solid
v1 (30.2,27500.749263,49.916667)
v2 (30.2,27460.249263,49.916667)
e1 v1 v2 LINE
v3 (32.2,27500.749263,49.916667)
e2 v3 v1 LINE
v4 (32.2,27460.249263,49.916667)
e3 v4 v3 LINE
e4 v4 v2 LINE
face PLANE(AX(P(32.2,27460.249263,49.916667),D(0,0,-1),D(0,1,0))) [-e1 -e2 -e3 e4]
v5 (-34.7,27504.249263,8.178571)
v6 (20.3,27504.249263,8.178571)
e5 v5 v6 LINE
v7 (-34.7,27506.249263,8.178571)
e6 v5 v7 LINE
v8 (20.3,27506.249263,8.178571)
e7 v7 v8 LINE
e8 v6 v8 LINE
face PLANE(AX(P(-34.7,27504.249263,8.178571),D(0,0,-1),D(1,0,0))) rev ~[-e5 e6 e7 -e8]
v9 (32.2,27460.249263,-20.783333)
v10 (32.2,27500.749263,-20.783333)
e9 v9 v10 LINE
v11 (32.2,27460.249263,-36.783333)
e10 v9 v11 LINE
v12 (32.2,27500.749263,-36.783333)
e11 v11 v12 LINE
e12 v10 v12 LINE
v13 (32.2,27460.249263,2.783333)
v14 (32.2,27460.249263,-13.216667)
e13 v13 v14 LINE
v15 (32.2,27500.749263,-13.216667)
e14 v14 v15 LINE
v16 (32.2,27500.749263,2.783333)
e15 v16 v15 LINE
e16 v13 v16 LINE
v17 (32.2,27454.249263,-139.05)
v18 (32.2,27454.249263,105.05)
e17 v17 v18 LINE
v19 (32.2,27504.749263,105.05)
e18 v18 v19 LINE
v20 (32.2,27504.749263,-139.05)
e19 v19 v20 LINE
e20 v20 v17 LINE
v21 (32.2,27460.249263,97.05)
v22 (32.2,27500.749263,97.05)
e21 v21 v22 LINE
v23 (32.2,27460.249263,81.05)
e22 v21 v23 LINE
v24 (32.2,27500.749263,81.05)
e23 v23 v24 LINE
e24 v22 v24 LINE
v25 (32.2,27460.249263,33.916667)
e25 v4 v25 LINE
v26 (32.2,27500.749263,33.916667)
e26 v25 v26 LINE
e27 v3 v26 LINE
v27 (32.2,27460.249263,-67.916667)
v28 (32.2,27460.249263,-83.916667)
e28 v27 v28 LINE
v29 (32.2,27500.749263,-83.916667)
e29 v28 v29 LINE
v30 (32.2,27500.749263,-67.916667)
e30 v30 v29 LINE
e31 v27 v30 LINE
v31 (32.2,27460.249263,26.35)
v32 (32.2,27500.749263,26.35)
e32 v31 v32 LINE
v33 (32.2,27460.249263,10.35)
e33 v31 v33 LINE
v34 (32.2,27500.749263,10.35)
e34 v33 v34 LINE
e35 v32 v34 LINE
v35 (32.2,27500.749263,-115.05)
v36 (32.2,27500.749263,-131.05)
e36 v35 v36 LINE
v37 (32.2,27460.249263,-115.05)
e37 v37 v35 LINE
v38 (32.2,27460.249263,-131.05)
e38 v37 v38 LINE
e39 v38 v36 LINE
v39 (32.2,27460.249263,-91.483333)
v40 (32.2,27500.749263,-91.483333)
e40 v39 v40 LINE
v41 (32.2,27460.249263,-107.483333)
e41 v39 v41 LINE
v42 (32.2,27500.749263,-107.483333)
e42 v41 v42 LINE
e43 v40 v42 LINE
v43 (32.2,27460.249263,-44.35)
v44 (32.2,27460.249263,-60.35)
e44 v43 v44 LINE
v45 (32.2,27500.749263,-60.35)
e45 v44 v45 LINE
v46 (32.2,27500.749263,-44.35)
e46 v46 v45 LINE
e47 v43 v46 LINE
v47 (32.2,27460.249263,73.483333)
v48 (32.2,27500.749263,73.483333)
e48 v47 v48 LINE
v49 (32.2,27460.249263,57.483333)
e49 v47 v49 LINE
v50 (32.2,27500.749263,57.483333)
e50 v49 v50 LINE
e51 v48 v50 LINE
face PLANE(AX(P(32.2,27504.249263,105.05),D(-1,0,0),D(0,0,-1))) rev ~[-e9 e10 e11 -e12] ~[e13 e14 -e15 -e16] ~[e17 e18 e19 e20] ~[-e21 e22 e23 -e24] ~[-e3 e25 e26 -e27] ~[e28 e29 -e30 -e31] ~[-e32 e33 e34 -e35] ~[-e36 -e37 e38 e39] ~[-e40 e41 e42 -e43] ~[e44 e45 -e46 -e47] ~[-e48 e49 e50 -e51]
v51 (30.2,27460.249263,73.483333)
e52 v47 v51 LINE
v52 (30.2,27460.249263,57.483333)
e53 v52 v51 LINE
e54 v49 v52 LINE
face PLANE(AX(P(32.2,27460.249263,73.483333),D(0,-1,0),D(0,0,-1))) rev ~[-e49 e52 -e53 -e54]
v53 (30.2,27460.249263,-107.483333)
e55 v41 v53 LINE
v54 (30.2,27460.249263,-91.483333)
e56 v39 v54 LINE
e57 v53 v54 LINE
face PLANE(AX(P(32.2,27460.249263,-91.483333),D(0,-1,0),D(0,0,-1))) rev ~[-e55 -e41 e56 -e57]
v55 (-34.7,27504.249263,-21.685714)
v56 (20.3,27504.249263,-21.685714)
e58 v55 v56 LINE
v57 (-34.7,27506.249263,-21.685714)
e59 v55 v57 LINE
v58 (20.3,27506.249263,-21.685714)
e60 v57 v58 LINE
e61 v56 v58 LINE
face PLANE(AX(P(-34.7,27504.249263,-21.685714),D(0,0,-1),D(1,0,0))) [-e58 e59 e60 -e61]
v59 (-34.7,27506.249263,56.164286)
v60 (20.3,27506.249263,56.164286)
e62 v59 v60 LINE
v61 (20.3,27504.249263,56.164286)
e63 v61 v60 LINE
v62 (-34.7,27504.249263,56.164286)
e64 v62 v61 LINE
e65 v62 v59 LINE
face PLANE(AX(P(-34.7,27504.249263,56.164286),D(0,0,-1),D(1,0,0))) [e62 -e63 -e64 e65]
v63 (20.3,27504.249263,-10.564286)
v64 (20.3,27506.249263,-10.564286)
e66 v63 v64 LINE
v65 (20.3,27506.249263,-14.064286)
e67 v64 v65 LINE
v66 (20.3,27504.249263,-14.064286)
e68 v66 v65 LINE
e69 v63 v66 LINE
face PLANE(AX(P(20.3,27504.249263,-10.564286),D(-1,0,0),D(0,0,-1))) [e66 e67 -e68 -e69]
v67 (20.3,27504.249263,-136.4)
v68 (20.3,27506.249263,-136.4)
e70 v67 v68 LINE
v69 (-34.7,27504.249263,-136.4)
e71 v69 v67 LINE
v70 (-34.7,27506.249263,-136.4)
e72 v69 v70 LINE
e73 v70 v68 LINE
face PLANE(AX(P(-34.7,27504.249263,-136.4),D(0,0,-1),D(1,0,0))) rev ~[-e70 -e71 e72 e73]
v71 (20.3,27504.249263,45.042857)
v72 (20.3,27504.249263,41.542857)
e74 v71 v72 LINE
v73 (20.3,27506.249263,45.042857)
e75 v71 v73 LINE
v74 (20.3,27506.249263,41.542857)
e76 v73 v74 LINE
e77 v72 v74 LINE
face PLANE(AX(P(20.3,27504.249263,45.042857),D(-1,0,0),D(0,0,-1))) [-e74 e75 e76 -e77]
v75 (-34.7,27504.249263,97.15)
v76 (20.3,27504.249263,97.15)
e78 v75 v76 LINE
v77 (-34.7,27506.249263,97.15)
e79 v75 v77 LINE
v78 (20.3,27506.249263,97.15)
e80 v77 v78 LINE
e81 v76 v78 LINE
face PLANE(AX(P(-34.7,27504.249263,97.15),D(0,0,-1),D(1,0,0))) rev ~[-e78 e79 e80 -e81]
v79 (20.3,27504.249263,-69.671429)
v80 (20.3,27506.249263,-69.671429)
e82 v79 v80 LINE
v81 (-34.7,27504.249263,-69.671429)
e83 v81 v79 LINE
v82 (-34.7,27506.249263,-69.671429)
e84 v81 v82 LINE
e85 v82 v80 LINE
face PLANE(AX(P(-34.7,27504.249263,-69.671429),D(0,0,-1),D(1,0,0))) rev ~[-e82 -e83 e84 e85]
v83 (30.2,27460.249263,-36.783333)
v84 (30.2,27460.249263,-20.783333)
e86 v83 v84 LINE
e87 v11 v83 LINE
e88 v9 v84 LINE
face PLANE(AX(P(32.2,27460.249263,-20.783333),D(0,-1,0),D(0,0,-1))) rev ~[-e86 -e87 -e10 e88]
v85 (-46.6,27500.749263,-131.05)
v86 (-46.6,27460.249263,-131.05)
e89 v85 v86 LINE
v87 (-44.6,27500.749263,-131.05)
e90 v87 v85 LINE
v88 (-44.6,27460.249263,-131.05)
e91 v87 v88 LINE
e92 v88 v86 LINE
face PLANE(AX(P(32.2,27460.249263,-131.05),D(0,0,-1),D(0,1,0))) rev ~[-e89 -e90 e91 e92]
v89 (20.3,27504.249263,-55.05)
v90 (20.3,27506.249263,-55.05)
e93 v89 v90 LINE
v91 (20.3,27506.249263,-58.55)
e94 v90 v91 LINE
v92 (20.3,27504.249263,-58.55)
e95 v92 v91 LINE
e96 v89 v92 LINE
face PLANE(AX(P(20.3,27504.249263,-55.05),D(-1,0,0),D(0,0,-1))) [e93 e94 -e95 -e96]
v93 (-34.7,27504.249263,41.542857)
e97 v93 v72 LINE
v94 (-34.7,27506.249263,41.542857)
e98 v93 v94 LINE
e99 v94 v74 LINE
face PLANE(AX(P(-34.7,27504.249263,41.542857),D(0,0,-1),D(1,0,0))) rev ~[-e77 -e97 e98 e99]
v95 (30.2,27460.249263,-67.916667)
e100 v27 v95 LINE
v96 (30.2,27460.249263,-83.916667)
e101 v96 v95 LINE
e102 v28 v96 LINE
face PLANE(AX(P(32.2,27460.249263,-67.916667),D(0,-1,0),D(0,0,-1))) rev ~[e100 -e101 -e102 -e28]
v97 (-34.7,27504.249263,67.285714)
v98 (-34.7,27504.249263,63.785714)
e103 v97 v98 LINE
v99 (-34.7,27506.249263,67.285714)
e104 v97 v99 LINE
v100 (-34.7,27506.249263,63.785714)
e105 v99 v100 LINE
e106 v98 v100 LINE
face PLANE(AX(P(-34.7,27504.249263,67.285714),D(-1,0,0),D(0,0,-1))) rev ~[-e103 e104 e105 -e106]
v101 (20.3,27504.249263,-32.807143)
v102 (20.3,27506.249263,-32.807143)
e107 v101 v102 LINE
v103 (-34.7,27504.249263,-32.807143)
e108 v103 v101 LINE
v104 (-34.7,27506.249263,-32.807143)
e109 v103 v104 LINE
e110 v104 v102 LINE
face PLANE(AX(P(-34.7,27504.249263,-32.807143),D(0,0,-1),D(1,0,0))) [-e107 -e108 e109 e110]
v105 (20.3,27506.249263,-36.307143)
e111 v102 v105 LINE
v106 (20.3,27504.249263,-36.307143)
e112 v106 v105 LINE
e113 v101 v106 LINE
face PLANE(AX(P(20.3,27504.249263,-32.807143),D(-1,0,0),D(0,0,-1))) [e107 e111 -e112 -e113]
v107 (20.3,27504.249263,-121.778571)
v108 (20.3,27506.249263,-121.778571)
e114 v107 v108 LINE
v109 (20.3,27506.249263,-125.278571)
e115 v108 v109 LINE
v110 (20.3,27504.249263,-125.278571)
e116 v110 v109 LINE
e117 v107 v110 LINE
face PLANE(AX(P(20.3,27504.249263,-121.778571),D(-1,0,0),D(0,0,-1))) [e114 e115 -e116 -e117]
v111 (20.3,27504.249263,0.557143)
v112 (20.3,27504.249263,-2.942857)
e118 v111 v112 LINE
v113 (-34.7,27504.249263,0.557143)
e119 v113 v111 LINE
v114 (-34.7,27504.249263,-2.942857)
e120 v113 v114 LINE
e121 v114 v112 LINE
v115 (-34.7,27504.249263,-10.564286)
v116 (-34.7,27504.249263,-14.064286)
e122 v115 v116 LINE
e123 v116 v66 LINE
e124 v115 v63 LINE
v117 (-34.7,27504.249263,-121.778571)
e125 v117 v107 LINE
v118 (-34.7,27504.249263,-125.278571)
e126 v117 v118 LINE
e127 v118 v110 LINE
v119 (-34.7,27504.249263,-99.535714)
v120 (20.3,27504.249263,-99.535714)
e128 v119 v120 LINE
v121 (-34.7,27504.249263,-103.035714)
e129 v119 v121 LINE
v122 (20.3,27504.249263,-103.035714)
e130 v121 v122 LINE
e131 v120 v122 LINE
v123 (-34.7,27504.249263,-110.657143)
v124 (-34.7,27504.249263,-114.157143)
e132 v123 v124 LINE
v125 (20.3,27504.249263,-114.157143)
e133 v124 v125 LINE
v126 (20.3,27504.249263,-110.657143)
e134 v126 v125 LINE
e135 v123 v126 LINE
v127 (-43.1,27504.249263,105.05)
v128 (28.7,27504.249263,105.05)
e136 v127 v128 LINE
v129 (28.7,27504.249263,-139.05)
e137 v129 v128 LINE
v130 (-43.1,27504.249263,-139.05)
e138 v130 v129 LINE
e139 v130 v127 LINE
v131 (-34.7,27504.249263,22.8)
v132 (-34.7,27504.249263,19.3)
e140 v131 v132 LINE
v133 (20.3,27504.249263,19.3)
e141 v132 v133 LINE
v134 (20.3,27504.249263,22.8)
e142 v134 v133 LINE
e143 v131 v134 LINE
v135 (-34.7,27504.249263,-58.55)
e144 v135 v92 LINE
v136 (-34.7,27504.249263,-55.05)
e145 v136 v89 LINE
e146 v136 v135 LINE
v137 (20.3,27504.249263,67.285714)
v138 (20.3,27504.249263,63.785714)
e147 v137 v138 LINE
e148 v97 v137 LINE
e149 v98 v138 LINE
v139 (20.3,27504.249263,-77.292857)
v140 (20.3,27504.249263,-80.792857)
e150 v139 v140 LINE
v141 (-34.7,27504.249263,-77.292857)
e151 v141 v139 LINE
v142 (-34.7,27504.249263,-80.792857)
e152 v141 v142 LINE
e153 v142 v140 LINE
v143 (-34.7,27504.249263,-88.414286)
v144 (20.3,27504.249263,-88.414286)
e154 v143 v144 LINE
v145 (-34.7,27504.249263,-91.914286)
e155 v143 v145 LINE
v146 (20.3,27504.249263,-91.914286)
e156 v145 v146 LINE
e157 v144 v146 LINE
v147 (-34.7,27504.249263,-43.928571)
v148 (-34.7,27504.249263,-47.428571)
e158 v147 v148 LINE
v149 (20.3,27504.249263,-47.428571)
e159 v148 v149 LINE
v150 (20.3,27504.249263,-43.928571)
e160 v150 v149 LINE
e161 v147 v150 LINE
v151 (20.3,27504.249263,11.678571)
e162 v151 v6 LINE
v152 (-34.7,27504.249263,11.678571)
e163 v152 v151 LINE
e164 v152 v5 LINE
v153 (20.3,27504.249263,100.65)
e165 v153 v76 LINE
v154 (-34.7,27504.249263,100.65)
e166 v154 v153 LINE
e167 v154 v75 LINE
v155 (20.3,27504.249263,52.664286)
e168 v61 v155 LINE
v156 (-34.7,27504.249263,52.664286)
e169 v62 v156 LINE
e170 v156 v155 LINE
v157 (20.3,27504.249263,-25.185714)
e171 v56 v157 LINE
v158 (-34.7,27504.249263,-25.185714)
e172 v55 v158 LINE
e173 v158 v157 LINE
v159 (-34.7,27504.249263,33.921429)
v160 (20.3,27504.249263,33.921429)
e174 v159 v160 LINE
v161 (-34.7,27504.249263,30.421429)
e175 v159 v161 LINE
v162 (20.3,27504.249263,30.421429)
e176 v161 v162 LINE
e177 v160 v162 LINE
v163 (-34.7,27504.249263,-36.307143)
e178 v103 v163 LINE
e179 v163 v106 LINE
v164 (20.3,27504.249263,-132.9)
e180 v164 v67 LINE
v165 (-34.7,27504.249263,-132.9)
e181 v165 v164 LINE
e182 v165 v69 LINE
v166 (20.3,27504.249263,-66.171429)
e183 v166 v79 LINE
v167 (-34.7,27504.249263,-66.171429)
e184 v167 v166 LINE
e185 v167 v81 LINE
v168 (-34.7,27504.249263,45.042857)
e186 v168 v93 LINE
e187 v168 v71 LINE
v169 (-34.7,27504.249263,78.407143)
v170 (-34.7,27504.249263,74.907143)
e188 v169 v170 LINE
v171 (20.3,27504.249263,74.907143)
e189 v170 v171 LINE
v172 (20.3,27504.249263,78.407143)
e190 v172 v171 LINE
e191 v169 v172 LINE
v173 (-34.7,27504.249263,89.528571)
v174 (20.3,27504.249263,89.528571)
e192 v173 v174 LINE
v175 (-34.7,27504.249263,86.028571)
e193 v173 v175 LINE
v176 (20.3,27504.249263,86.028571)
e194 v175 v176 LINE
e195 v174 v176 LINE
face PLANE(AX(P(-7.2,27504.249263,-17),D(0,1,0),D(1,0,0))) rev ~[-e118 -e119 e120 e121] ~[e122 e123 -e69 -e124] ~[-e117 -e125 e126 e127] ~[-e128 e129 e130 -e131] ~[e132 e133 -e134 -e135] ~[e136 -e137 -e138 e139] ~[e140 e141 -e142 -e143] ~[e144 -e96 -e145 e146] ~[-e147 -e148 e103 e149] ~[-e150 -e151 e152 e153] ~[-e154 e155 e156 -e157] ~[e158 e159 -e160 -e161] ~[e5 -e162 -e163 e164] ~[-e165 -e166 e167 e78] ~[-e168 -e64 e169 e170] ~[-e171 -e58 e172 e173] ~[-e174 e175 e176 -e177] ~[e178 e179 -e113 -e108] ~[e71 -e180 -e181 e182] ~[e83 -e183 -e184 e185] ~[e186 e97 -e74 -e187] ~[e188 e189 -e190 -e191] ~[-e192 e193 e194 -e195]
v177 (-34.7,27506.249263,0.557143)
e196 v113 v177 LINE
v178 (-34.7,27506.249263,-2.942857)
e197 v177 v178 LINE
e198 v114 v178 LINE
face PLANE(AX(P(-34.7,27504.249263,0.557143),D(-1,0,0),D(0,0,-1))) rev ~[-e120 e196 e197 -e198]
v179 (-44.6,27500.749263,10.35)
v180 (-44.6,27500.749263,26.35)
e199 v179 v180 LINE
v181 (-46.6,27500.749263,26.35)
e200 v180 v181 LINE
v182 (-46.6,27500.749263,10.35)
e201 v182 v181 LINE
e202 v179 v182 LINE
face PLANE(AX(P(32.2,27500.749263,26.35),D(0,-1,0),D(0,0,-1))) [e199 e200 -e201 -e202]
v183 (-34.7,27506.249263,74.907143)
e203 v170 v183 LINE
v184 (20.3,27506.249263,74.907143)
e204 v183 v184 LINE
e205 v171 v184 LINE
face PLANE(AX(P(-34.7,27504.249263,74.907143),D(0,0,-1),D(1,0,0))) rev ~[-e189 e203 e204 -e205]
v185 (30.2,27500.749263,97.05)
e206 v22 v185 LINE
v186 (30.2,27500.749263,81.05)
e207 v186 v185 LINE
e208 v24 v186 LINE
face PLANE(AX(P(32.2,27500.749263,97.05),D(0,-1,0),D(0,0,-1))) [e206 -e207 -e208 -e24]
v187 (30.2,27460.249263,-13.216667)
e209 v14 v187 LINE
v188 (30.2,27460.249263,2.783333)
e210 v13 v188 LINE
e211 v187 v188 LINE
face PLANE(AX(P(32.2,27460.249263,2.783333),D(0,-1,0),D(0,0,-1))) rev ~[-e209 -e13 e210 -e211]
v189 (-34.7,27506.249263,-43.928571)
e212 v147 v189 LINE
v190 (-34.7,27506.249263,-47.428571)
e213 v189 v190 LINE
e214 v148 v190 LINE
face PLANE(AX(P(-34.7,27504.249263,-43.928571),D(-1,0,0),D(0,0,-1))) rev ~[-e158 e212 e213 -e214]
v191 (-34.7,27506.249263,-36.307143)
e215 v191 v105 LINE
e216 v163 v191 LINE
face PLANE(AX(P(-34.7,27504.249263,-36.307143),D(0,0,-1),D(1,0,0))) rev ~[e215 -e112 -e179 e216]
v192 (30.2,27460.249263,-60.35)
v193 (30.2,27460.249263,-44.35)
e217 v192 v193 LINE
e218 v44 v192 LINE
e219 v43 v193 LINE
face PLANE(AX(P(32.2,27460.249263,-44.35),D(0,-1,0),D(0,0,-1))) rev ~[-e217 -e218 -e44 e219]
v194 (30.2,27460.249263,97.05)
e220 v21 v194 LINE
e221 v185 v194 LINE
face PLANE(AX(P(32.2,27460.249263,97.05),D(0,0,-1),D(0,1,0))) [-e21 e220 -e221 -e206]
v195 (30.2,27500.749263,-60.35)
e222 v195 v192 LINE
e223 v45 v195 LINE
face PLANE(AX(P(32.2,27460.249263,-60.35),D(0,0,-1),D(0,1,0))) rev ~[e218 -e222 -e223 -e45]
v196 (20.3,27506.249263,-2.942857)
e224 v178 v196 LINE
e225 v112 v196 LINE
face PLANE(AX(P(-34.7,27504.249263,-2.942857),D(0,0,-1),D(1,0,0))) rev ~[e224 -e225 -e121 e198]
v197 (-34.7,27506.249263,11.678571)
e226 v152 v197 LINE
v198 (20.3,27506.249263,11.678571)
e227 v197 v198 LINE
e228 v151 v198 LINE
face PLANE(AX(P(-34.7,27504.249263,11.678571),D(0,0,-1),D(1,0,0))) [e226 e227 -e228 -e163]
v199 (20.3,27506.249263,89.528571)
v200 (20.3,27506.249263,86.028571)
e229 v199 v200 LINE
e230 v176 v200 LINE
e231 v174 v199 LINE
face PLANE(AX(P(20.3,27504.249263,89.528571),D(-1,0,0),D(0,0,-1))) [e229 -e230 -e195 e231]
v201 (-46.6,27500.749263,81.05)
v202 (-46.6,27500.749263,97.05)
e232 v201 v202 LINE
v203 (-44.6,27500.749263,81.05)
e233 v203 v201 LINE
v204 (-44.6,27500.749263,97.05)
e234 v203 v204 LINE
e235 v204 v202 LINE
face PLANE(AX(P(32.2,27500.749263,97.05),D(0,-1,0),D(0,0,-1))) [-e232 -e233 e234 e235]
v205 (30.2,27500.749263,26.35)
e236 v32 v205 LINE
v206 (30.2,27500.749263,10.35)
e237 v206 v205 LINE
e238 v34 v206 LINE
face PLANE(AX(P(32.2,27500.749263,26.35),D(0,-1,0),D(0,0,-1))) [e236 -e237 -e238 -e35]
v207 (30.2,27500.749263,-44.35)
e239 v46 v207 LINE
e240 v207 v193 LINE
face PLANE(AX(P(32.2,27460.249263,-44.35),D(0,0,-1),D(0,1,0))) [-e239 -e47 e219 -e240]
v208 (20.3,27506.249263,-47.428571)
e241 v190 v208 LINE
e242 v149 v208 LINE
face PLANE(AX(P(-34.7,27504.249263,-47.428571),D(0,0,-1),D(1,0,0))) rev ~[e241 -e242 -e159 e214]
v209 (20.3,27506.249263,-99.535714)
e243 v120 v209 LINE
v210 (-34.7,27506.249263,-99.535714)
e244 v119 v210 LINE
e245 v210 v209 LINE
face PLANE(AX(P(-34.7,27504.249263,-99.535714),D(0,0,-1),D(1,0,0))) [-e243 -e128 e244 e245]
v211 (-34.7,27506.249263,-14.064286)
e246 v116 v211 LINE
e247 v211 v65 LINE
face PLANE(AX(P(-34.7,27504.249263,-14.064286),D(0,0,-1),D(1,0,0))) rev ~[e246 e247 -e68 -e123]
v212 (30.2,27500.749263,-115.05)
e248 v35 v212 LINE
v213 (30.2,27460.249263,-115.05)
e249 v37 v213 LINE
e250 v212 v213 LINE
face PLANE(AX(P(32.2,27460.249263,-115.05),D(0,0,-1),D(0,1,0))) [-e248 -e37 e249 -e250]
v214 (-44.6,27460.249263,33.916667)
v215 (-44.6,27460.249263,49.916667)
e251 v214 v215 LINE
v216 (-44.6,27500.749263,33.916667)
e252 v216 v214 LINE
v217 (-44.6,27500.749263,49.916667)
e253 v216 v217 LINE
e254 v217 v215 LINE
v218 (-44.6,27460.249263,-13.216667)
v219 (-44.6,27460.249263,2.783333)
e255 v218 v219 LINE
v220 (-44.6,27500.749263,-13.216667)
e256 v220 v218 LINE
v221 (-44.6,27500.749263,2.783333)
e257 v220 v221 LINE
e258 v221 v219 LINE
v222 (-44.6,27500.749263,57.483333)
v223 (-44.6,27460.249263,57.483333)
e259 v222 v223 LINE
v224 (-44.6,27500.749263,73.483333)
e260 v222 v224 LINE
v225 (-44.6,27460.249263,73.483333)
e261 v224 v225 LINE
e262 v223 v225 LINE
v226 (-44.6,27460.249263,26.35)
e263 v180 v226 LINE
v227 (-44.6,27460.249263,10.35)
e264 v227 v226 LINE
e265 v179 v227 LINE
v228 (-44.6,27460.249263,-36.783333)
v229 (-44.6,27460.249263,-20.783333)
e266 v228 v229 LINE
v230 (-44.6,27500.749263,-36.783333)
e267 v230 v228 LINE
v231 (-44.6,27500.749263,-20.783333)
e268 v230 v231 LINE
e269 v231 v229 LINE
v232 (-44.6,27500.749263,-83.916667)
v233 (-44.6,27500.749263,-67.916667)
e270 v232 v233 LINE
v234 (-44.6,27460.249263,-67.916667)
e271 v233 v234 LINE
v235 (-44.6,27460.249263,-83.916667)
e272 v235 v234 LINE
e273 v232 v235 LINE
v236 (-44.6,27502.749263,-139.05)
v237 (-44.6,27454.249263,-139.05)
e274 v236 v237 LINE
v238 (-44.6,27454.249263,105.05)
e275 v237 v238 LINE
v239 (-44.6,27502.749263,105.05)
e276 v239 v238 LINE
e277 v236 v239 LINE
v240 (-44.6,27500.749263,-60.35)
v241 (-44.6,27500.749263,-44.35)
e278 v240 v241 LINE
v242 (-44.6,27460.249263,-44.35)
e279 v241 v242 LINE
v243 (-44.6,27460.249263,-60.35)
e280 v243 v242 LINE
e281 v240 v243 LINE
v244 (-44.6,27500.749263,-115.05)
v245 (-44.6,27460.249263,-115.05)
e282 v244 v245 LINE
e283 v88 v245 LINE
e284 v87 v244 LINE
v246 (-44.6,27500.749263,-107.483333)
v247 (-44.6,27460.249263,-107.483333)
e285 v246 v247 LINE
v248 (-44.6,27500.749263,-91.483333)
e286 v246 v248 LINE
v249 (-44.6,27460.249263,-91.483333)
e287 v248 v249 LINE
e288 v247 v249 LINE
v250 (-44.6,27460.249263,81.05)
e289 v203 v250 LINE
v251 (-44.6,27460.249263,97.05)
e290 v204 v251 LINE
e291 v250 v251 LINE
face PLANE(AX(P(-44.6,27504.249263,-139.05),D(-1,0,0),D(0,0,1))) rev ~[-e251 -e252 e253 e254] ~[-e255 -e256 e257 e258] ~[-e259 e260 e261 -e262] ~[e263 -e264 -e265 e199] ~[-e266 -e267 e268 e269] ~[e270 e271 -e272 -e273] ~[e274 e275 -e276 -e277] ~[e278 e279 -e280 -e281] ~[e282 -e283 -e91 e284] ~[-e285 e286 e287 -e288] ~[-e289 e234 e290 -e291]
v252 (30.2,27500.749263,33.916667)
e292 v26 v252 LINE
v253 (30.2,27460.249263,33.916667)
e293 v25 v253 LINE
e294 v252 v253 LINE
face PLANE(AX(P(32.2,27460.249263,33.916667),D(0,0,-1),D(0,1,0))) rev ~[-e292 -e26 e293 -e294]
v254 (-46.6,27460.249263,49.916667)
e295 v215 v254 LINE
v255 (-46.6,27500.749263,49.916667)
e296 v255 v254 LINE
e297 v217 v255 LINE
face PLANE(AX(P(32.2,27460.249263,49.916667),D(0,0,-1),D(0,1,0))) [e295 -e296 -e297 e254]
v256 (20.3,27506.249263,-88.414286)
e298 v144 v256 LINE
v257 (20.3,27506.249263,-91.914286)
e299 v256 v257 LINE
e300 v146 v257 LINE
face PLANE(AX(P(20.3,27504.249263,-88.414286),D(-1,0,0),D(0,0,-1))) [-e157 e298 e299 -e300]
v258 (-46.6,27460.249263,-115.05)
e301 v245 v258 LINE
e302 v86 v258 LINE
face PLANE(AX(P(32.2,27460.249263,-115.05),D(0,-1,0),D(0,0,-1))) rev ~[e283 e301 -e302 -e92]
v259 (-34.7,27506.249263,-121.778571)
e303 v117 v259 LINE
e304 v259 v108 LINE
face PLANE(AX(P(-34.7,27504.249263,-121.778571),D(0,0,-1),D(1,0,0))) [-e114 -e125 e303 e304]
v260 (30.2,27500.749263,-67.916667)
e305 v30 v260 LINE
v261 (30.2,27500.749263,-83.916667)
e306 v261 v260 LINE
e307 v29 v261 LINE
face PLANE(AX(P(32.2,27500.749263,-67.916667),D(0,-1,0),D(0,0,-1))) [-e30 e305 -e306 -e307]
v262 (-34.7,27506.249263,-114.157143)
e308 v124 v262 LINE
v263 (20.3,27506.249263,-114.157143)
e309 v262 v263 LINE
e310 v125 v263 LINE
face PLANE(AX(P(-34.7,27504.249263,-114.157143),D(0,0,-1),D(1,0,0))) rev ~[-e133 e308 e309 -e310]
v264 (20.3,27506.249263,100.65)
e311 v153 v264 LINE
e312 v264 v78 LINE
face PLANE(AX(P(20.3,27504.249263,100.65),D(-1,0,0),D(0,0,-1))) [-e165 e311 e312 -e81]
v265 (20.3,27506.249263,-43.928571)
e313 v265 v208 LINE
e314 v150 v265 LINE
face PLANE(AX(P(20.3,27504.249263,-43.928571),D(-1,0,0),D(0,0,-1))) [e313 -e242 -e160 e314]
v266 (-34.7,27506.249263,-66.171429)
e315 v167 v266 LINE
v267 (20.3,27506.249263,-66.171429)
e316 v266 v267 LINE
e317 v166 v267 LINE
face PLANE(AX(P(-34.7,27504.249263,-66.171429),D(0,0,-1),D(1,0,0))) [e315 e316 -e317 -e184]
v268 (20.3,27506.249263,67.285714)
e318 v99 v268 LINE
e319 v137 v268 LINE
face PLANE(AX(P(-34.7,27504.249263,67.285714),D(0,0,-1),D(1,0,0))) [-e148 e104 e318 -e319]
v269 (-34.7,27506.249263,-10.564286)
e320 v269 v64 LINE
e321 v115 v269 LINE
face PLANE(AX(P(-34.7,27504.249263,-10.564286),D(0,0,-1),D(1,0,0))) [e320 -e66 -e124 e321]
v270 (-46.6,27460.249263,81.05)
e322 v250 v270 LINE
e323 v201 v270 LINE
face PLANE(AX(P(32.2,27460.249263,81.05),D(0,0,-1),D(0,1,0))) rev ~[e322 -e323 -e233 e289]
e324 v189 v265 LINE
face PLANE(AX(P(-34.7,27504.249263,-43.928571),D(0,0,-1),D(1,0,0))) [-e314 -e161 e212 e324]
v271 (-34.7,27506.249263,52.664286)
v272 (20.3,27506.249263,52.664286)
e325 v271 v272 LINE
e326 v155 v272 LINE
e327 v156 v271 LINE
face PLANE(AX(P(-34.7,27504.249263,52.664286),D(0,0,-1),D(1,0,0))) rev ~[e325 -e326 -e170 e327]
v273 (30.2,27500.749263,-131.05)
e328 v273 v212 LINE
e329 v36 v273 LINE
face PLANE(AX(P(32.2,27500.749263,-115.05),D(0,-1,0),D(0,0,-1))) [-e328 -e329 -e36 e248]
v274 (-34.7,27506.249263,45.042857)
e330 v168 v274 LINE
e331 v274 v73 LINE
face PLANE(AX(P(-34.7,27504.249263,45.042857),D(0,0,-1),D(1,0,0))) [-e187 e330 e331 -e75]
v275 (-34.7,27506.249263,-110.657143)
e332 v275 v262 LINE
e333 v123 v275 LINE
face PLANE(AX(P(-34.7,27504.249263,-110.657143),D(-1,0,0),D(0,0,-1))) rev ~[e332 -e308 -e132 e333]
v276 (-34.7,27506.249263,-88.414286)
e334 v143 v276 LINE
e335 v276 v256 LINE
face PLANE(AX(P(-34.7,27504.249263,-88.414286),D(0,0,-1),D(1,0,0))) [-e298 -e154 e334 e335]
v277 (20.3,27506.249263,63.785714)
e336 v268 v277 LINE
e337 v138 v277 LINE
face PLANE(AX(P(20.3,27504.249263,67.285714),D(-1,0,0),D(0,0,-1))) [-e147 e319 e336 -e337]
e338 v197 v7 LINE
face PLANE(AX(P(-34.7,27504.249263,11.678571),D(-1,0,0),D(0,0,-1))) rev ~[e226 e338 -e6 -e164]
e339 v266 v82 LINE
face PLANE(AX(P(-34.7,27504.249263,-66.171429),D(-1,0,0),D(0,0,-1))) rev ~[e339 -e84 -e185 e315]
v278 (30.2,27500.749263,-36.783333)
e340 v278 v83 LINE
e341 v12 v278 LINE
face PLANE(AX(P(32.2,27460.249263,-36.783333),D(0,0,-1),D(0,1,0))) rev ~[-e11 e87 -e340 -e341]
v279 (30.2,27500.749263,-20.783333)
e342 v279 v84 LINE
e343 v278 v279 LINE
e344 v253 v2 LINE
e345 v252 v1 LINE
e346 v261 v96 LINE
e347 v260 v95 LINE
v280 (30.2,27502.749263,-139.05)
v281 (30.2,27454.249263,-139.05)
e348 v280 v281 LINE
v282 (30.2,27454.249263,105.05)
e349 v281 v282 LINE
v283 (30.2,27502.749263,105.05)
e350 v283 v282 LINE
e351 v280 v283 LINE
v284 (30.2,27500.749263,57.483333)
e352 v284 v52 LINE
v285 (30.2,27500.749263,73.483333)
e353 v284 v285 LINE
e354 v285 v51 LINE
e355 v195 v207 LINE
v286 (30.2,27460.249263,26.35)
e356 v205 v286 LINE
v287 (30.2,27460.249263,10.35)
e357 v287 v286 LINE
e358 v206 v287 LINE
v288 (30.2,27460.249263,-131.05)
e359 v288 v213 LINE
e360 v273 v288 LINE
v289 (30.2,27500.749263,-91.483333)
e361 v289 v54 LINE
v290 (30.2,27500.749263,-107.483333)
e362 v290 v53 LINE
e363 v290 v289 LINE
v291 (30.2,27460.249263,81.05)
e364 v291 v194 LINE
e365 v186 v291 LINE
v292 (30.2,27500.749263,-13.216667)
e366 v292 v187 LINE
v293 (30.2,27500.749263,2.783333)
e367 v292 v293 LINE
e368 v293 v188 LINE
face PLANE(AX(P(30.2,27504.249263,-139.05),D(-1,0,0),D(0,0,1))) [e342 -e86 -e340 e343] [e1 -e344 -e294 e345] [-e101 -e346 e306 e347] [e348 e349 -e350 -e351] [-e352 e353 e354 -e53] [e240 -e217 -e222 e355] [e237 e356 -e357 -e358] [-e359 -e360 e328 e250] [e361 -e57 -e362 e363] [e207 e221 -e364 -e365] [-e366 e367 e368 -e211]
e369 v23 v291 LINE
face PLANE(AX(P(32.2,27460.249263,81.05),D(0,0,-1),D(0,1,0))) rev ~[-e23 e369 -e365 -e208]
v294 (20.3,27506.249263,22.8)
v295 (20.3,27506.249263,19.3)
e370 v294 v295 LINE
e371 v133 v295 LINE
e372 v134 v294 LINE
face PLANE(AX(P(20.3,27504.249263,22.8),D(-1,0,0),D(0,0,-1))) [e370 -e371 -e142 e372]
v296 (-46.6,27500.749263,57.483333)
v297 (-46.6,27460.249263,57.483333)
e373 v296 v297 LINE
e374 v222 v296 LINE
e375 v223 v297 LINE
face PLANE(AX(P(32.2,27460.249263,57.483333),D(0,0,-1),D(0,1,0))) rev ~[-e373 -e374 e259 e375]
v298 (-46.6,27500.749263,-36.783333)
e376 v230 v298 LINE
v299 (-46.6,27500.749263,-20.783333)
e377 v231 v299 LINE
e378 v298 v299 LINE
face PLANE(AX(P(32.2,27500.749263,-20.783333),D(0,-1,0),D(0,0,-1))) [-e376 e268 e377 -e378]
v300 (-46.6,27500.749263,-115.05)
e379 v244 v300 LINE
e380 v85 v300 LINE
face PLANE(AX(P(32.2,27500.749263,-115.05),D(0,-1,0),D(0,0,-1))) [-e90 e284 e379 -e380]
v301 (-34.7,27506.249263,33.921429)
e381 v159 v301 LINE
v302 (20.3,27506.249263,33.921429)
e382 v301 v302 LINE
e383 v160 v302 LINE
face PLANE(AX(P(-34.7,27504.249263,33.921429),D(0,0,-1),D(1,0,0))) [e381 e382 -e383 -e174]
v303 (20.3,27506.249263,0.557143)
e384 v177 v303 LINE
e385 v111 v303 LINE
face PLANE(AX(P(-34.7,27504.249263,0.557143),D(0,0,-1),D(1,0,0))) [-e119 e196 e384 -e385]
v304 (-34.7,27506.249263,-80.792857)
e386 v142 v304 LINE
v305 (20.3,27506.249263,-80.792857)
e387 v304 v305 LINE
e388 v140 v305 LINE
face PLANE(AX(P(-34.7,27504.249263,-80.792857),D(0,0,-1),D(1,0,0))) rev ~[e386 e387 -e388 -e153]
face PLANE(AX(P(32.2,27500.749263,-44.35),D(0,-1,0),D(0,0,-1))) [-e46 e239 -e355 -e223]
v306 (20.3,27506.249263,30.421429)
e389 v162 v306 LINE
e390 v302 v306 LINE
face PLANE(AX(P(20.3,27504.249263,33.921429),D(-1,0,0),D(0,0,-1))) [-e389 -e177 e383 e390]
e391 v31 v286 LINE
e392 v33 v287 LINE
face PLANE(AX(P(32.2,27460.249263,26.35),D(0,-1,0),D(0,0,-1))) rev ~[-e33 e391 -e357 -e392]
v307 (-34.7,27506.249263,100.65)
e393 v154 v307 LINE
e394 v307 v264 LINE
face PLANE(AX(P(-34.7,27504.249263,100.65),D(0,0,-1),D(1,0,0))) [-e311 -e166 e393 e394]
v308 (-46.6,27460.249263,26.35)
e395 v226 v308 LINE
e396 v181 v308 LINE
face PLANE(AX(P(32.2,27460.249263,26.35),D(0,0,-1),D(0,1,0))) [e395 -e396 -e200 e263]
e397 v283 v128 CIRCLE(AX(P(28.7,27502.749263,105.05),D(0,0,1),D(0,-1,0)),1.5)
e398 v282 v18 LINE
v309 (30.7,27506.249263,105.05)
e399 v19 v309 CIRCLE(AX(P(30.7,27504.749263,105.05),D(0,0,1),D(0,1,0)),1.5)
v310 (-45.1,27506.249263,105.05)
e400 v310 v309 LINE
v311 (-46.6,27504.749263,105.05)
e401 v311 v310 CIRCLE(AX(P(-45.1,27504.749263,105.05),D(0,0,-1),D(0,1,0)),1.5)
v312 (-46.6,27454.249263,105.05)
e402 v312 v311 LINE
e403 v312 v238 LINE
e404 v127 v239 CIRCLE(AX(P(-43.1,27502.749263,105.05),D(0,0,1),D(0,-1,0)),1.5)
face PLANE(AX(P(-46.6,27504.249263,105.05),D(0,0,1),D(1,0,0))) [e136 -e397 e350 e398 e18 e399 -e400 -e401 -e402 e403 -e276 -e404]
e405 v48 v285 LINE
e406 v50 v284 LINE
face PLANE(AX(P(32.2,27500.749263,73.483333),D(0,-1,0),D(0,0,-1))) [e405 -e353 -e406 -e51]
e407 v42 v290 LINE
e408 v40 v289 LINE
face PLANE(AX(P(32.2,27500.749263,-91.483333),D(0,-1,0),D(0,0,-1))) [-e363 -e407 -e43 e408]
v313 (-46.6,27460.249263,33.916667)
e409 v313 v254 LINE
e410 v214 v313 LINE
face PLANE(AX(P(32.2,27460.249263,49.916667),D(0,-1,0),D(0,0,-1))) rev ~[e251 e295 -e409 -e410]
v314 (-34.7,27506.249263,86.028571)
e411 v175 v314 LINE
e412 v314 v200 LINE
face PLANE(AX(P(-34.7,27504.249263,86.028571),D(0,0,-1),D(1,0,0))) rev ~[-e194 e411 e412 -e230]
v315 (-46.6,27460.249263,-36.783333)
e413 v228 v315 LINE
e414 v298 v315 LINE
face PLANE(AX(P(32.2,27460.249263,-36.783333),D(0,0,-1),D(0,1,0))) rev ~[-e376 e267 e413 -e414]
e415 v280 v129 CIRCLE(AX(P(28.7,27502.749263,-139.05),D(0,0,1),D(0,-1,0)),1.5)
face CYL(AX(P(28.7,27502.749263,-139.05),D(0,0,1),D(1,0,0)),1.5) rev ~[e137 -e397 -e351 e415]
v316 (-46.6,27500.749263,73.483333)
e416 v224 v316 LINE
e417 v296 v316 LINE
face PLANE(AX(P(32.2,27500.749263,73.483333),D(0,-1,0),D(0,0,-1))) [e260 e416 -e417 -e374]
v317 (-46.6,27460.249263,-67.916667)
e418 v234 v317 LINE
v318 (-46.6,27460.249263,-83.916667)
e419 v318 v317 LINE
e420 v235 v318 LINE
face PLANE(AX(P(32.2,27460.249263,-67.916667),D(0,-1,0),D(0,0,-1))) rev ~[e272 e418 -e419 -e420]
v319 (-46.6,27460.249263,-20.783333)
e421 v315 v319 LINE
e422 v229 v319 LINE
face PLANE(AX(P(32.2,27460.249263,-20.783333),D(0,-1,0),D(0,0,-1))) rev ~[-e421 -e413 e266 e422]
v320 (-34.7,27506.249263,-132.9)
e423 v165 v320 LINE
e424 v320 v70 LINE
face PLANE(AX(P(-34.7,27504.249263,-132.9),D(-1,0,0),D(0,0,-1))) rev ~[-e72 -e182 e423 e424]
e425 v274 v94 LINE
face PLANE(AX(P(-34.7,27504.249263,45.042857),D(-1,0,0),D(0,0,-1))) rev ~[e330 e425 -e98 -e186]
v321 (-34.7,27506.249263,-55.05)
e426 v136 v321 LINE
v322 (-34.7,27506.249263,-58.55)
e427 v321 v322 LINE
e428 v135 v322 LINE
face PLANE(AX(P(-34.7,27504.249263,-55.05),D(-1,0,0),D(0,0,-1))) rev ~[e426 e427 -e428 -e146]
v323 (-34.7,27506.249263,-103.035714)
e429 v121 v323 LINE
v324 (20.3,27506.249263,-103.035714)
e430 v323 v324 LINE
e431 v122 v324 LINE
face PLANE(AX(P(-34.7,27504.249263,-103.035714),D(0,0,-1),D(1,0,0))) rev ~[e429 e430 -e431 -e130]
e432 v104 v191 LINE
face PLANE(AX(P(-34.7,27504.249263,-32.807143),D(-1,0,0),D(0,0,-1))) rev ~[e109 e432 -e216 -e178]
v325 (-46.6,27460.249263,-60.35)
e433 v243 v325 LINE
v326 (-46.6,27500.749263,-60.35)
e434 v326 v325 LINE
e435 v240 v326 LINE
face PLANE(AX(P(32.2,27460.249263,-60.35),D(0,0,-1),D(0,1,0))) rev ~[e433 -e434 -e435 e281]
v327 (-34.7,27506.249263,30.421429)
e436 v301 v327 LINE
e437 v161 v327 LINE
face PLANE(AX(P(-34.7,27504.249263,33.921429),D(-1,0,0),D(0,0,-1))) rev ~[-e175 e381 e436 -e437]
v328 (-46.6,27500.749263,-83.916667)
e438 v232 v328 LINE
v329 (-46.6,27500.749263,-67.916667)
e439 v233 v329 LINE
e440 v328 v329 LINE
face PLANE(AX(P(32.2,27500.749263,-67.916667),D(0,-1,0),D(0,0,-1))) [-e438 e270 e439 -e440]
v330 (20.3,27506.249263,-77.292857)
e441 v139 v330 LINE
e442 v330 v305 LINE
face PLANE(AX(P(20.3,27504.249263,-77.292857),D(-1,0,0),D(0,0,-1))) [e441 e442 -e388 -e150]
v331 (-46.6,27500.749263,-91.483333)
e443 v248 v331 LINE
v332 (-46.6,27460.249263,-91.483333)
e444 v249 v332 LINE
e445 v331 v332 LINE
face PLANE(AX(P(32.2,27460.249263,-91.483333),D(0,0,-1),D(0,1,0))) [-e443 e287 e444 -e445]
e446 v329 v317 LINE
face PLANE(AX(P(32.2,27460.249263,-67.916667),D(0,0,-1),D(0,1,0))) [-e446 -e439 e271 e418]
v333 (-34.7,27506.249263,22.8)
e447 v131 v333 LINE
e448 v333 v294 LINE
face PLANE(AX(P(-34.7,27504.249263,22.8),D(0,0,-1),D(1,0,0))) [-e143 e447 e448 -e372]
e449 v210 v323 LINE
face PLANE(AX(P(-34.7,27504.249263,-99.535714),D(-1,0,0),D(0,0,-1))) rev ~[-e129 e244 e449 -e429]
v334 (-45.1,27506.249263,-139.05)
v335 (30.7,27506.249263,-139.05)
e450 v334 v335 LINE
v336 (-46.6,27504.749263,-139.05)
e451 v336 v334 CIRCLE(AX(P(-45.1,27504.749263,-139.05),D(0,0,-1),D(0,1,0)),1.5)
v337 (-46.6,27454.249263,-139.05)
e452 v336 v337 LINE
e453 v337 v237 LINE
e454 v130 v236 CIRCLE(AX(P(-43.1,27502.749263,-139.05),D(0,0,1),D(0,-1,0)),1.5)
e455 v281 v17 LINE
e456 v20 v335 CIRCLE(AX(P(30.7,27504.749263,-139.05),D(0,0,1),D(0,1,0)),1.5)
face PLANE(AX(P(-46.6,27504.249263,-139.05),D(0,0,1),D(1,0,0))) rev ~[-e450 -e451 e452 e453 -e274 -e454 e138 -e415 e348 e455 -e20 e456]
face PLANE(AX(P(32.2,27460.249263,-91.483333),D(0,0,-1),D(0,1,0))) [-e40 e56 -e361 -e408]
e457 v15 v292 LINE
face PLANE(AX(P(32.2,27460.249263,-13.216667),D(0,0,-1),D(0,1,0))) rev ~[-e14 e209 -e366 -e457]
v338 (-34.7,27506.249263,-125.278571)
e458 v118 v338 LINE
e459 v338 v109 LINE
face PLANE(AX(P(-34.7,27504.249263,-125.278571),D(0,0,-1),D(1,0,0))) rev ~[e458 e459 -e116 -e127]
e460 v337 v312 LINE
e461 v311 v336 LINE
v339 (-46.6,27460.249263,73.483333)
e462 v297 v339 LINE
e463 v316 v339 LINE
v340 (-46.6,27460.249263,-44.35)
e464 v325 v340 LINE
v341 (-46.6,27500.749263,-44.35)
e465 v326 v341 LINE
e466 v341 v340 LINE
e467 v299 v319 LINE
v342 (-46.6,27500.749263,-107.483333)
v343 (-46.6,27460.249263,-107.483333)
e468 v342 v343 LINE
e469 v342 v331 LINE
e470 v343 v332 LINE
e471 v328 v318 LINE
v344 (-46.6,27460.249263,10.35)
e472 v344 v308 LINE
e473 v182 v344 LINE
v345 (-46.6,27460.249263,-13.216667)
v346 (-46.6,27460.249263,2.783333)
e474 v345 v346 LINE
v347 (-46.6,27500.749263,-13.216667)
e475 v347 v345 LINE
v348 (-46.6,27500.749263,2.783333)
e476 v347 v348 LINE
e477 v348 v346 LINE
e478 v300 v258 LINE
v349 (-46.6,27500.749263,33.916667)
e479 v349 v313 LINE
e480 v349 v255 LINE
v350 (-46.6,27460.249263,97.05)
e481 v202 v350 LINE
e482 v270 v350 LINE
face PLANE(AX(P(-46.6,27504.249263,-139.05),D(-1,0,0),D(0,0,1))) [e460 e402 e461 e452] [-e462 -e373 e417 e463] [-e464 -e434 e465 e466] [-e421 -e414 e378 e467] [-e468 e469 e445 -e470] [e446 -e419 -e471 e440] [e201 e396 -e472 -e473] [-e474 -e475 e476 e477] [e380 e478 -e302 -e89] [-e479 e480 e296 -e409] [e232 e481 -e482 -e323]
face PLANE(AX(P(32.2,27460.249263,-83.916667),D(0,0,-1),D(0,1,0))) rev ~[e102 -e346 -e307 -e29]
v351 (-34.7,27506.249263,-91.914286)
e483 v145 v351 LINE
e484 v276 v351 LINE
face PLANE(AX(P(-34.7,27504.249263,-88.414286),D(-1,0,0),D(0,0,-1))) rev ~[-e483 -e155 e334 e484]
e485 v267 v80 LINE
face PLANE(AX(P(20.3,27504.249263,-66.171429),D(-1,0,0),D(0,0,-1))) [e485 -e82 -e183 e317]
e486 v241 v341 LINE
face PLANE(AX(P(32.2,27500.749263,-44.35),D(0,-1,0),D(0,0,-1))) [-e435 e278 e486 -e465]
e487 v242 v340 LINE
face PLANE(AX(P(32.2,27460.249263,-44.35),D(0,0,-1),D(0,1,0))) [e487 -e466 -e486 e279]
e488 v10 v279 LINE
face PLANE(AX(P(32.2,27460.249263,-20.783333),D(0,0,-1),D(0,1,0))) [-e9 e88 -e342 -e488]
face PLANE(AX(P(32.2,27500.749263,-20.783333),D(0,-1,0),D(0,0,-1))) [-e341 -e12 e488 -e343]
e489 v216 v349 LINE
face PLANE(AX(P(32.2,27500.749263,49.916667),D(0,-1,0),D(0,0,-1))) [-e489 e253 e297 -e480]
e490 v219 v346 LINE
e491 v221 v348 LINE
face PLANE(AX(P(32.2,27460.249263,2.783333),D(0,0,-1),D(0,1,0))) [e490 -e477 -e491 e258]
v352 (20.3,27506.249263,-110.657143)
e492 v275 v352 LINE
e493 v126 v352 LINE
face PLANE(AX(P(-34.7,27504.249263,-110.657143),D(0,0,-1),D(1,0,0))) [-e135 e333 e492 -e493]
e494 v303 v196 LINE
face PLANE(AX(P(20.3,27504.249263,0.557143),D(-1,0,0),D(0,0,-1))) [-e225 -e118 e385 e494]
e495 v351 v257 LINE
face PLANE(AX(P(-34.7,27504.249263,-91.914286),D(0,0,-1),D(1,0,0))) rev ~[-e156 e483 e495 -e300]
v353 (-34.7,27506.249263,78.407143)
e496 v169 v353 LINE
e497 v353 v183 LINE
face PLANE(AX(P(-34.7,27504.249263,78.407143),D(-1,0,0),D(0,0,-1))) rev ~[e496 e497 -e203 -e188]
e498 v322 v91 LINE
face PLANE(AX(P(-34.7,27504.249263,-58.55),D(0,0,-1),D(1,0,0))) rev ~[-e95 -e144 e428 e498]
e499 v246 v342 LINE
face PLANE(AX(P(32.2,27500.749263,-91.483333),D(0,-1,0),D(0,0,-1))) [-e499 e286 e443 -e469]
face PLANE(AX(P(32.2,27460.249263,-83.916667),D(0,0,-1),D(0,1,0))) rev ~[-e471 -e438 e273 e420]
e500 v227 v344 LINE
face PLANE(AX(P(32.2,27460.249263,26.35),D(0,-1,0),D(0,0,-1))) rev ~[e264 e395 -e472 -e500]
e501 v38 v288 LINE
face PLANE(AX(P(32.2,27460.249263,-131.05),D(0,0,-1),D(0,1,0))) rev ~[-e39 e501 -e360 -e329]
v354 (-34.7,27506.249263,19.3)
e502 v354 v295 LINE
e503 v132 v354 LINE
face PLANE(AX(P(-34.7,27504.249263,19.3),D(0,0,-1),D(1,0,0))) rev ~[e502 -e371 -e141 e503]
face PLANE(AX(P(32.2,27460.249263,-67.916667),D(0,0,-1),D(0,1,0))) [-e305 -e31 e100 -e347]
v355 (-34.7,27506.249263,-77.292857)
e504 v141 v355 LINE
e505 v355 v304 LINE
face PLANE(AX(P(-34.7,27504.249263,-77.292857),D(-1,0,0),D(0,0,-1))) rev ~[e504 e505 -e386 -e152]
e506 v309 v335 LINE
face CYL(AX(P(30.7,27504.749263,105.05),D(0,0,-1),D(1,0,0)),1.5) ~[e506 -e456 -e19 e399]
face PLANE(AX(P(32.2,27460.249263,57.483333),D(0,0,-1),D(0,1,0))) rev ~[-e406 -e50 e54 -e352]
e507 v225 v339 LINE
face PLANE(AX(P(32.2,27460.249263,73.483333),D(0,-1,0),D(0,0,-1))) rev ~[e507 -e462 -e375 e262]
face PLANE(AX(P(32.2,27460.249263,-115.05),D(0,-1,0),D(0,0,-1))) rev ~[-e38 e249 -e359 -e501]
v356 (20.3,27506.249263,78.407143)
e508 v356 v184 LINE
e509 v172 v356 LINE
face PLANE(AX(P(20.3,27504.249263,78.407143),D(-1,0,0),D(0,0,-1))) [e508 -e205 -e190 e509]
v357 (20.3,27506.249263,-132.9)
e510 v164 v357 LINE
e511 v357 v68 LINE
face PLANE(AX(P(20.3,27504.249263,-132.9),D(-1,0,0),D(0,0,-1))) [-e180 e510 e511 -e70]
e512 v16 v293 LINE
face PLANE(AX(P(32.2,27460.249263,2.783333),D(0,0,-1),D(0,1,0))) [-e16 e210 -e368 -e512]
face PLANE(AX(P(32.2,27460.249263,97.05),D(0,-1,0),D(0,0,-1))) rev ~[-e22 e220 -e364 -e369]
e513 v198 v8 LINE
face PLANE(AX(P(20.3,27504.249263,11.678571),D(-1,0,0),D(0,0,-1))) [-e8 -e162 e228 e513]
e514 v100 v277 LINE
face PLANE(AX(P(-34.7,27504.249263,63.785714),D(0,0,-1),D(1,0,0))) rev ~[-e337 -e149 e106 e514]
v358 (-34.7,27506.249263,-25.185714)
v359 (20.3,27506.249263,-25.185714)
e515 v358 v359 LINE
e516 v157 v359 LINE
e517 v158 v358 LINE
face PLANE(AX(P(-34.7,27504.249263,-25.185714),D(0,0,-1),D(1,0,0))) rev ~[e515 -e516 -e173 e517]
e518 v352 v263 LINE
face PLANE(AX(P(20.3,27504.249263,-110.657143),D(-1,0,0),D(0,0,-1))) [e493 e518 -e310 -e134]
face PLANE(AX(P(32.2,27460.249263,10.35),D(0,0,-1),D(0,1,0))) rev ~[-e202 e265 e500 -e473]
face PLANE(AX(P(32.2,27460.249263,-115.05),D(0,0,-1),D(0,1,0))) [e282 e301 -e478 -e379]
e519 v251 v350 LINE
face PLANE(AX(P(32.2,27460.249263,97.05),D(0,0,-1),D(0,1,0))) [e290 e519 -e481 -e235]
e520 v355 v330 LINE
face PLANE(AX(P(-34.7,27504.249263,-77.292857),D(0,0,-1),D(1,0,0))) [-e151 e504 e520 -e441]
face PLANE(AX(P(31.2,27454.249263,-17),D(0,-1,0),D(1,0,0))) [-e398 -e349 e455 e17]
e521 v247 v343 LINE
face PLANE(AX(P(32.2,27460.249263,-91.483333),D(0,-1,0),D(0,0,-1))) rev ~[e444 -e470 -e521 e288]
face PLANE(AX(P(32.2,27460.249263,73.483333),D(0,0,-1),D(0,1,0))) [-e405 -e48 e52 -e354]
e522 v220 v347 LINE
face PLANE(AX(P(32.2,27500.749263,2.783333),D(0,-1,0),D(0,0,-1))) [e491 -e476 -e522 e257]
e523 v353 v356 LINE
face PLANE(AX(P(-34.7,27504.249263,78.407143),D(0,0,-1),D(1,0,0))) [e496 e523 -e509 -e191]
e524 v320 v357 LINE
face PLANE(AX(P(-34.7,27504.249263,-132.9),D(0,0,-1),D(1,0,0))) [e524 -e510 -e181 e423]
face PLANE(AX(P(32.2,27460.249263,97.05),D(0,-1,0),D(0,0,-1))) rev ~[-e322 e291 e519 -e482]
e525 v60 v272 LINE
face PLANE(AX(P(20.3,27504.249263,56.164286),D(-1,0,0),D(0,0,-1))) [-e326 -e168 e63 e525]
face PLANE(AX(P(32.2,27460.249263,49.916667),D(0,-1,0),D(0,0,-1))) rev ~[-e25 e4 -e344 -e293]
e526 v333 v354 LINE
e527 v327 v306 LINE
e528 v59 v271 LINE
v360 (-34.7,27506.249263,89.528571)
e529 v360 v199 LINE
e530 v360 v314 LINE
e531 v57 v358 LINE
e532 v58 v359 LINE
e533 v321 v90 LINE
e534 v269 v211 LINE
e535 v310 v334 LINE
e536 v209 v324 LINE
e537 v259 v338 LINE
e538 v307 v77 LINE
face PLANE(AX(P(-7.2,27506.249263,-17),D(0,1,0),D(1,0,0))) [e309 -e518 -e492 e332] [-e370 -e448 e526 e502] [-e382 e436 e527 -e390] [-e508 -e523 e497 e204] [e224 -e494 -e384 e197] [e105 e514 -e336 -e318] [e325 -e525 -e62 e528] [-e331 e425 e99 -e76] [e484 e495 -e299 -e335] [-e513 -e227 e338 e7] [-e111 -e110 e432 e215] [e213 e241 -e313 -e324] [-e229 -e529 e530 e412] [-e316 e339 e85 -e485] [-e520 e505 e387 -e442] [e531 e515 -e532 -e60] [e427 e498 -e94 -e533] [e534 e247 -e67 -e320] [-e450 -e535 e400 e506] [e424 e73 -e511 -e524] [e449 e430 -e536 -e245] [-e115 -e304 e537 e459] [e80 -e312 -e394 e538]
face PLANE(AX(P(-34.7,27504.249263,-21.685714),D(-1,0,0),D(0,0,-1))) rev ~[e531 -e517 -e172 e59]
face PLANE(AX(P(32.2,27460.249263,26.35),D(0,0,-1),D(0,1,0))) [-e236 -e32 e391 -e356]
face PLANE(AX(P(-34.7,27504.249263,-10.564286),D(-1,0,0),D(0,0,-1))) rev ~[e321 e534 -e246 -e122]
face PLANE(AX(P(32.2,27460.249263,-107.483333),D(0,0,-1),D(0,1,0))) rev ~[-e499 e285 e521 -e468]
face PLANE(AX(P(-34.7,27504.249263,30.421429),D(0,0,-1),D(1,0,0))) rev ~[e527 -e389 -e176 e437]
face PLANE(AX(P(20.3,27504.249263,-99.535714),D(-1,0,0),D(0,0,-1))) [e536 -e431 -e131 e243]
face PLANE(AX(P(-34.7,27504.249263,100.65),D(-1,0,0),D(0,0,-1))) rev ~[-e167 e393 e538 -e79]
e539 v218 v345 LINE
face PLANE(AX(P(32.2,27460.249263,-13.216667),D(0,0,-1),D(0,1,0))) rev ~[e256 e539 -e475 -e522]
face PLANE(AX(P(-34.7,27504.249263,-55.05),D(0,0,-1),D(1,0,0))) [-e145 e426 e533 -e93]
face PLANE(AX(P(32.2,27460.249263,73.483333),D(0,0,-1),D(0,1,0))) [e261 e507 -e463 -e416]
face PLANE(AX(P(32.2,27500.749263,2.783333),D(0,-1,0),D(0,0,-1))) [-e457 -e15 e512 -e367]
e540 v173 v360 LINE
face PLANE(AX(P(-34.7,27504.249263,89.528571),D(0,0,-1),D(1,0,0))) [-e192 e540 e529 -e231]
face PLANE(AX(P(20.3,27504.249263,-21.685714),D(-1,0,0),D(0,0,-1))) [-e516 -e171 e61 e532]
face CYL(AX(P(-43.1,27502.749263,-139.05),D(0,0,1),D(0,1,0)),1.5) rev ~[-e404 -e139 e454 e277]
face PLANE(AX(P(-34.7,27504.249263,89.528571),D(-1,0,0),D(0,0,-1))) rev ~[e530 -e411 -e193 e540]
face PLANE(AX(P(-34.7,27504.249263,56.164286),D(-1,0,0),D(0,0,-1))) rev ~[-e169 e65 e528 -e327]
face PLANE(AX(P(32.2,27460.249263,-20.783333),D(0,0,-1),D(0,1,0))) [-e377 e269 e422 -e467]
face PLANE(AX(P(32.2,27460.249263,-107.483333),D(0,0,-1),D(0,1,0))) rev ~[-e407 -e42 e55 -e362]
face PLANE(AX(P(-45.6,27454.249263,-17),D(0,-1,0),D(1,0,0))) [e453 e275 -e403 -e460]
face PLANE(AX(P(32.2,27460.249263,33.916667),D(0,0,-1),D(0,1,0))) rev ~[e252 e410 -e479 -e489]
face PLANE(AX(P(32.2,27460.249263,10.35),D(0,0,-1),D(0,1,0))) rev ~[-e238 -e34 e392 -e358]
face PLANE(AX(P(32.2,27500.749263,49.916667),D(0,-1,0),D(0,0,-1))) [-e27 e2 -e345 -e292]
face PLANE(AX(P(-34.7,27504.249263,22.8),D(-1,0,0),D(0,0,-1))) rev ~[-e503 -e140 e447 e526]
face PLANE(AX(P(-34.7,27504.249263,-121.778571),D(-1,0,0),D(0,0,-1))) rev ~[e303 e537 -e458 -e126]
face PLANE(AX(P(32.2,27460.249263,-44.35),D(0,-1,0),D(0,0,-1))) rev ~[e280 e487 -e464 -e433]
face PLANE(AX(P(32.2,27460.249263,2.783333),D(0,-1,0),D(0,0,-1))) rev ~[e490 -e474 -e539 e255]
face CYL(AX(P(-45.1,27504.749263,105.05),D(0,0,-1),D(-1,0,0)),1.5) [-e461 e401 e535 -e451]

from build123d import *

# Parameters (mm, degrees)
SKETCH2_W           = 78.8
SKETCH2_H           = 244.1
SKETCH2_W_2         = 55
SKETCH2_H_2         = 3.5
BOSS_EXTRUDE1_DEPTH = 2
SKETCH3_W           = 2
SKETCH3_H           = 244.1
BOSS_EXTRUDE2_DEPTH = 50
FILLET1_R           = 1.5
SKETCH4_W           = 16
SKETCH4_H           = 40.5
CUT_EXTRUDE1_DEPTH  = 27507.713596192


with BuildPart() as part:
    # Sketch2 → Boss-Extrude1 (new body)
    with BuildSketch(Plane(origin=(0, 27504.249263039, 0), x_dir=(1, 0, 0), z_dir=(0, 1, 0))):
        with Locations((-7.2, 17)):
            Rectangle(SKETCH2_W, SKETCH2_H)
        with Locations((-7.2, 123.528571429)):
            Rectangle(SKETCH2_W_2, SKETCH2_H_2, mode=Mode.SUBTRACT)
        with Locations((-7.2, 134.65)):
            Rectangle(SKETCH2_W_2, SKETCH2_H_2, mode=Mode.SUBTRACT)
        with Locations((-7.2, 112.407142857)):
            Rectangle(SKETCH2_W_2, SKETCH2_H_2, mode=Mode.SUBTRACT)
        with Locations((-7.2, 101.285714286)):
            Rectangle(SKETCH2_W_2, SKETCH2_H_2, mode=Mode.SUBTRACT)
        with Locations((-7.2, 90.164285714)):
            Rectangle(SKETCH2_W_2, SKETCH2_H_2, mode=Mode.SUBTRACT)
        with Locations((-7.2, 79.042857143)):
            Rectangle(SKETCH2_W_2, SKETCH2_H_2, mode=Mode.SUBTRACT)
        with Locations((-7.2, 67.921428571)):
            Rectangle(SKETCH2_W_2, SKETCH2_H_2, mode=Mode.SUBTRACT)
        with Locations((-7.2, 56.8)):
            Rectangle(SKETCH2_W_2, SKETCH2_H_2, mode=Mode.SUBTRACT)
        with Locations((-7.2, 45.678571429)):
            Rectangle(SKETCH2_W_2, SKETCH2_H_2, mode=Mode.SUBTRACT)
        with Locations((-7.2, 34.557142857)):
            Rectangle(SKETCH2_W_2, SKETCH2_H_2, mode=Mode.SUBTRACT)
        with Locations((-7.2, 23.435714286)):
            Rectangle(SKETCH2_W_2, SKETCH2_H_2, mode=Mode.SUBTRACT)
        with Locations((-7.2, 12.314285714)):
            Rectangle(SKETCH2_W_2, SKETCH2_H_2, mode=Mode.SUBTRACT)
        with Locations((-7.2, 1.192857143)):
            Rectangle(SKETCH2_W_2, SKETCH2_H_2, mode=Mode.SUBTRACT)
        with Locations((-7.2, -9.928571429)):
            Rectangle(SKETCH2_W_2, SKETCH2_H_2, mode=Mode.SUBTRACT)
        with Locations((-7.2, -21.05)):
            Rectangle(SKETCH2_W_2, SKETCH2_H_2, mode=Mode.SUBTRACT)
        with Locations((-7.2, -32.171428571)):
            Rectangle(SKETCH2_W_2, SKETCH2_H_2, mode=Mode.SUBTRACT)
        with Locations((-7.2, -43.292857143)):
            Rectangle(SKETCH2_W_2, SKETCH2_H_2, mode=Mode.SUBTRACT)
        with Locations((-7.2, -54.414285714)):
            Rectangle(SKETCH2_W_2, SKETCH2_H_2, mode=Mode.SUBTRACT)
        with Locations((-7.2, -65.535714286)):
            Rectangle(SKETCH2_W_2, SKETCH2_H_2, mode=Mode.SUBTRACT)
        with Locations((-7.2, -76.657142857)):
            Rectangle(SKETCH2_W_2, SKETCH2_H_2, mode=Mode.SUBTRACT)
        with Locations((-7.2, -87.778571429)):
            Rectangle(SKETCH2_W_2, SKETCH2_H_2, mode=Mode.SUBTRACT)
        with Locations((-7.2, -98.9)):
            Rectangle(SKETCH2_W_2, SKETCH2_H_2, mode=Mode.SUBTRACT)
    extrude(amount=BOSS_EXTRUDE1_DEPTH)

    # Sketch3 → Boss-Extrude2 (add)
    with BuildSketch(Plane.XZ.offset(-27504.249263039)):
        with Locations((-45.6, -17)):
            Rectangle(SKETCH3_W, SKETCH3_H)
        with Locations((31.2, -17)):
            Rectangle(SKETCH3_W, SKETCH3_H)
    extrude(amount=BOSS_EXTRUDE2_DEPTH)

    # Fillet1
    fillet1_edges = [part.edges().sort_by_distance(p)[0] for p in [
        (32.2, 27506.249263039, -17),
        (-44.6, 27504.249263039, -17),
        (30.2, 27504.249263039, -17),
        (-46.6, 27506.249263039, -17),
    ]]
    fillet(fillet1_edges, radius=FILLET1_R)

    # Sketch4 → Cut-Extrude1 (cut, through all)
    with BuildSketch(Plane(origin=(32.2, 0, 0), x_dir=(0, 0, -1), z_dir=(1, 0, 0))):
        with Locations((-89.05, 27480.499263039)):
            Rectangle(SKETCH4_W, SKETCH4_H)
        with Locations((-65.483333333, 27480.499263039)):
            Rectangle(SKETCH4_W, SKETCH4_H)
        with Locations((-41.916666667, 27480.499263039)):
            Rectangle(SKETCH4_W, SKETCH4_H)
        with Locations((-18.35, 27480.499263039)):
            Rectangle(SKETCH4_W, SKETCH4_H)
        with Locations((5.216666667, 27480.499263039)):
            Rectangle(SKETCH4_W, SKETCH4_H)
        with Locations((28.783333333, 27480.499263039)):
            Rectangle(SKETCH4_W, SKETCH4_H)
        with Locations((52.35, 27480.499263039)):
            Rectangle(SKETCH4_W, SKETCH4_H)
        with Locations((75.916666667, 27480.499263039)):
            Rectangle(SKETCH4_W, SKETCH4_H)
        with Locations((99.483333333, 27480.499263039)):
            Rectangle(SKETCH4_W, SKETCH4_H)
        with Locations((123.05, 27480.499263039)):
            Rectangle(SKETCH4_W, SKETCH4_H)
    extrude(amount=-CUT_EXTRUDE1_DEPTH, mode=Mode.SUBTRACT)


solid = part.part
